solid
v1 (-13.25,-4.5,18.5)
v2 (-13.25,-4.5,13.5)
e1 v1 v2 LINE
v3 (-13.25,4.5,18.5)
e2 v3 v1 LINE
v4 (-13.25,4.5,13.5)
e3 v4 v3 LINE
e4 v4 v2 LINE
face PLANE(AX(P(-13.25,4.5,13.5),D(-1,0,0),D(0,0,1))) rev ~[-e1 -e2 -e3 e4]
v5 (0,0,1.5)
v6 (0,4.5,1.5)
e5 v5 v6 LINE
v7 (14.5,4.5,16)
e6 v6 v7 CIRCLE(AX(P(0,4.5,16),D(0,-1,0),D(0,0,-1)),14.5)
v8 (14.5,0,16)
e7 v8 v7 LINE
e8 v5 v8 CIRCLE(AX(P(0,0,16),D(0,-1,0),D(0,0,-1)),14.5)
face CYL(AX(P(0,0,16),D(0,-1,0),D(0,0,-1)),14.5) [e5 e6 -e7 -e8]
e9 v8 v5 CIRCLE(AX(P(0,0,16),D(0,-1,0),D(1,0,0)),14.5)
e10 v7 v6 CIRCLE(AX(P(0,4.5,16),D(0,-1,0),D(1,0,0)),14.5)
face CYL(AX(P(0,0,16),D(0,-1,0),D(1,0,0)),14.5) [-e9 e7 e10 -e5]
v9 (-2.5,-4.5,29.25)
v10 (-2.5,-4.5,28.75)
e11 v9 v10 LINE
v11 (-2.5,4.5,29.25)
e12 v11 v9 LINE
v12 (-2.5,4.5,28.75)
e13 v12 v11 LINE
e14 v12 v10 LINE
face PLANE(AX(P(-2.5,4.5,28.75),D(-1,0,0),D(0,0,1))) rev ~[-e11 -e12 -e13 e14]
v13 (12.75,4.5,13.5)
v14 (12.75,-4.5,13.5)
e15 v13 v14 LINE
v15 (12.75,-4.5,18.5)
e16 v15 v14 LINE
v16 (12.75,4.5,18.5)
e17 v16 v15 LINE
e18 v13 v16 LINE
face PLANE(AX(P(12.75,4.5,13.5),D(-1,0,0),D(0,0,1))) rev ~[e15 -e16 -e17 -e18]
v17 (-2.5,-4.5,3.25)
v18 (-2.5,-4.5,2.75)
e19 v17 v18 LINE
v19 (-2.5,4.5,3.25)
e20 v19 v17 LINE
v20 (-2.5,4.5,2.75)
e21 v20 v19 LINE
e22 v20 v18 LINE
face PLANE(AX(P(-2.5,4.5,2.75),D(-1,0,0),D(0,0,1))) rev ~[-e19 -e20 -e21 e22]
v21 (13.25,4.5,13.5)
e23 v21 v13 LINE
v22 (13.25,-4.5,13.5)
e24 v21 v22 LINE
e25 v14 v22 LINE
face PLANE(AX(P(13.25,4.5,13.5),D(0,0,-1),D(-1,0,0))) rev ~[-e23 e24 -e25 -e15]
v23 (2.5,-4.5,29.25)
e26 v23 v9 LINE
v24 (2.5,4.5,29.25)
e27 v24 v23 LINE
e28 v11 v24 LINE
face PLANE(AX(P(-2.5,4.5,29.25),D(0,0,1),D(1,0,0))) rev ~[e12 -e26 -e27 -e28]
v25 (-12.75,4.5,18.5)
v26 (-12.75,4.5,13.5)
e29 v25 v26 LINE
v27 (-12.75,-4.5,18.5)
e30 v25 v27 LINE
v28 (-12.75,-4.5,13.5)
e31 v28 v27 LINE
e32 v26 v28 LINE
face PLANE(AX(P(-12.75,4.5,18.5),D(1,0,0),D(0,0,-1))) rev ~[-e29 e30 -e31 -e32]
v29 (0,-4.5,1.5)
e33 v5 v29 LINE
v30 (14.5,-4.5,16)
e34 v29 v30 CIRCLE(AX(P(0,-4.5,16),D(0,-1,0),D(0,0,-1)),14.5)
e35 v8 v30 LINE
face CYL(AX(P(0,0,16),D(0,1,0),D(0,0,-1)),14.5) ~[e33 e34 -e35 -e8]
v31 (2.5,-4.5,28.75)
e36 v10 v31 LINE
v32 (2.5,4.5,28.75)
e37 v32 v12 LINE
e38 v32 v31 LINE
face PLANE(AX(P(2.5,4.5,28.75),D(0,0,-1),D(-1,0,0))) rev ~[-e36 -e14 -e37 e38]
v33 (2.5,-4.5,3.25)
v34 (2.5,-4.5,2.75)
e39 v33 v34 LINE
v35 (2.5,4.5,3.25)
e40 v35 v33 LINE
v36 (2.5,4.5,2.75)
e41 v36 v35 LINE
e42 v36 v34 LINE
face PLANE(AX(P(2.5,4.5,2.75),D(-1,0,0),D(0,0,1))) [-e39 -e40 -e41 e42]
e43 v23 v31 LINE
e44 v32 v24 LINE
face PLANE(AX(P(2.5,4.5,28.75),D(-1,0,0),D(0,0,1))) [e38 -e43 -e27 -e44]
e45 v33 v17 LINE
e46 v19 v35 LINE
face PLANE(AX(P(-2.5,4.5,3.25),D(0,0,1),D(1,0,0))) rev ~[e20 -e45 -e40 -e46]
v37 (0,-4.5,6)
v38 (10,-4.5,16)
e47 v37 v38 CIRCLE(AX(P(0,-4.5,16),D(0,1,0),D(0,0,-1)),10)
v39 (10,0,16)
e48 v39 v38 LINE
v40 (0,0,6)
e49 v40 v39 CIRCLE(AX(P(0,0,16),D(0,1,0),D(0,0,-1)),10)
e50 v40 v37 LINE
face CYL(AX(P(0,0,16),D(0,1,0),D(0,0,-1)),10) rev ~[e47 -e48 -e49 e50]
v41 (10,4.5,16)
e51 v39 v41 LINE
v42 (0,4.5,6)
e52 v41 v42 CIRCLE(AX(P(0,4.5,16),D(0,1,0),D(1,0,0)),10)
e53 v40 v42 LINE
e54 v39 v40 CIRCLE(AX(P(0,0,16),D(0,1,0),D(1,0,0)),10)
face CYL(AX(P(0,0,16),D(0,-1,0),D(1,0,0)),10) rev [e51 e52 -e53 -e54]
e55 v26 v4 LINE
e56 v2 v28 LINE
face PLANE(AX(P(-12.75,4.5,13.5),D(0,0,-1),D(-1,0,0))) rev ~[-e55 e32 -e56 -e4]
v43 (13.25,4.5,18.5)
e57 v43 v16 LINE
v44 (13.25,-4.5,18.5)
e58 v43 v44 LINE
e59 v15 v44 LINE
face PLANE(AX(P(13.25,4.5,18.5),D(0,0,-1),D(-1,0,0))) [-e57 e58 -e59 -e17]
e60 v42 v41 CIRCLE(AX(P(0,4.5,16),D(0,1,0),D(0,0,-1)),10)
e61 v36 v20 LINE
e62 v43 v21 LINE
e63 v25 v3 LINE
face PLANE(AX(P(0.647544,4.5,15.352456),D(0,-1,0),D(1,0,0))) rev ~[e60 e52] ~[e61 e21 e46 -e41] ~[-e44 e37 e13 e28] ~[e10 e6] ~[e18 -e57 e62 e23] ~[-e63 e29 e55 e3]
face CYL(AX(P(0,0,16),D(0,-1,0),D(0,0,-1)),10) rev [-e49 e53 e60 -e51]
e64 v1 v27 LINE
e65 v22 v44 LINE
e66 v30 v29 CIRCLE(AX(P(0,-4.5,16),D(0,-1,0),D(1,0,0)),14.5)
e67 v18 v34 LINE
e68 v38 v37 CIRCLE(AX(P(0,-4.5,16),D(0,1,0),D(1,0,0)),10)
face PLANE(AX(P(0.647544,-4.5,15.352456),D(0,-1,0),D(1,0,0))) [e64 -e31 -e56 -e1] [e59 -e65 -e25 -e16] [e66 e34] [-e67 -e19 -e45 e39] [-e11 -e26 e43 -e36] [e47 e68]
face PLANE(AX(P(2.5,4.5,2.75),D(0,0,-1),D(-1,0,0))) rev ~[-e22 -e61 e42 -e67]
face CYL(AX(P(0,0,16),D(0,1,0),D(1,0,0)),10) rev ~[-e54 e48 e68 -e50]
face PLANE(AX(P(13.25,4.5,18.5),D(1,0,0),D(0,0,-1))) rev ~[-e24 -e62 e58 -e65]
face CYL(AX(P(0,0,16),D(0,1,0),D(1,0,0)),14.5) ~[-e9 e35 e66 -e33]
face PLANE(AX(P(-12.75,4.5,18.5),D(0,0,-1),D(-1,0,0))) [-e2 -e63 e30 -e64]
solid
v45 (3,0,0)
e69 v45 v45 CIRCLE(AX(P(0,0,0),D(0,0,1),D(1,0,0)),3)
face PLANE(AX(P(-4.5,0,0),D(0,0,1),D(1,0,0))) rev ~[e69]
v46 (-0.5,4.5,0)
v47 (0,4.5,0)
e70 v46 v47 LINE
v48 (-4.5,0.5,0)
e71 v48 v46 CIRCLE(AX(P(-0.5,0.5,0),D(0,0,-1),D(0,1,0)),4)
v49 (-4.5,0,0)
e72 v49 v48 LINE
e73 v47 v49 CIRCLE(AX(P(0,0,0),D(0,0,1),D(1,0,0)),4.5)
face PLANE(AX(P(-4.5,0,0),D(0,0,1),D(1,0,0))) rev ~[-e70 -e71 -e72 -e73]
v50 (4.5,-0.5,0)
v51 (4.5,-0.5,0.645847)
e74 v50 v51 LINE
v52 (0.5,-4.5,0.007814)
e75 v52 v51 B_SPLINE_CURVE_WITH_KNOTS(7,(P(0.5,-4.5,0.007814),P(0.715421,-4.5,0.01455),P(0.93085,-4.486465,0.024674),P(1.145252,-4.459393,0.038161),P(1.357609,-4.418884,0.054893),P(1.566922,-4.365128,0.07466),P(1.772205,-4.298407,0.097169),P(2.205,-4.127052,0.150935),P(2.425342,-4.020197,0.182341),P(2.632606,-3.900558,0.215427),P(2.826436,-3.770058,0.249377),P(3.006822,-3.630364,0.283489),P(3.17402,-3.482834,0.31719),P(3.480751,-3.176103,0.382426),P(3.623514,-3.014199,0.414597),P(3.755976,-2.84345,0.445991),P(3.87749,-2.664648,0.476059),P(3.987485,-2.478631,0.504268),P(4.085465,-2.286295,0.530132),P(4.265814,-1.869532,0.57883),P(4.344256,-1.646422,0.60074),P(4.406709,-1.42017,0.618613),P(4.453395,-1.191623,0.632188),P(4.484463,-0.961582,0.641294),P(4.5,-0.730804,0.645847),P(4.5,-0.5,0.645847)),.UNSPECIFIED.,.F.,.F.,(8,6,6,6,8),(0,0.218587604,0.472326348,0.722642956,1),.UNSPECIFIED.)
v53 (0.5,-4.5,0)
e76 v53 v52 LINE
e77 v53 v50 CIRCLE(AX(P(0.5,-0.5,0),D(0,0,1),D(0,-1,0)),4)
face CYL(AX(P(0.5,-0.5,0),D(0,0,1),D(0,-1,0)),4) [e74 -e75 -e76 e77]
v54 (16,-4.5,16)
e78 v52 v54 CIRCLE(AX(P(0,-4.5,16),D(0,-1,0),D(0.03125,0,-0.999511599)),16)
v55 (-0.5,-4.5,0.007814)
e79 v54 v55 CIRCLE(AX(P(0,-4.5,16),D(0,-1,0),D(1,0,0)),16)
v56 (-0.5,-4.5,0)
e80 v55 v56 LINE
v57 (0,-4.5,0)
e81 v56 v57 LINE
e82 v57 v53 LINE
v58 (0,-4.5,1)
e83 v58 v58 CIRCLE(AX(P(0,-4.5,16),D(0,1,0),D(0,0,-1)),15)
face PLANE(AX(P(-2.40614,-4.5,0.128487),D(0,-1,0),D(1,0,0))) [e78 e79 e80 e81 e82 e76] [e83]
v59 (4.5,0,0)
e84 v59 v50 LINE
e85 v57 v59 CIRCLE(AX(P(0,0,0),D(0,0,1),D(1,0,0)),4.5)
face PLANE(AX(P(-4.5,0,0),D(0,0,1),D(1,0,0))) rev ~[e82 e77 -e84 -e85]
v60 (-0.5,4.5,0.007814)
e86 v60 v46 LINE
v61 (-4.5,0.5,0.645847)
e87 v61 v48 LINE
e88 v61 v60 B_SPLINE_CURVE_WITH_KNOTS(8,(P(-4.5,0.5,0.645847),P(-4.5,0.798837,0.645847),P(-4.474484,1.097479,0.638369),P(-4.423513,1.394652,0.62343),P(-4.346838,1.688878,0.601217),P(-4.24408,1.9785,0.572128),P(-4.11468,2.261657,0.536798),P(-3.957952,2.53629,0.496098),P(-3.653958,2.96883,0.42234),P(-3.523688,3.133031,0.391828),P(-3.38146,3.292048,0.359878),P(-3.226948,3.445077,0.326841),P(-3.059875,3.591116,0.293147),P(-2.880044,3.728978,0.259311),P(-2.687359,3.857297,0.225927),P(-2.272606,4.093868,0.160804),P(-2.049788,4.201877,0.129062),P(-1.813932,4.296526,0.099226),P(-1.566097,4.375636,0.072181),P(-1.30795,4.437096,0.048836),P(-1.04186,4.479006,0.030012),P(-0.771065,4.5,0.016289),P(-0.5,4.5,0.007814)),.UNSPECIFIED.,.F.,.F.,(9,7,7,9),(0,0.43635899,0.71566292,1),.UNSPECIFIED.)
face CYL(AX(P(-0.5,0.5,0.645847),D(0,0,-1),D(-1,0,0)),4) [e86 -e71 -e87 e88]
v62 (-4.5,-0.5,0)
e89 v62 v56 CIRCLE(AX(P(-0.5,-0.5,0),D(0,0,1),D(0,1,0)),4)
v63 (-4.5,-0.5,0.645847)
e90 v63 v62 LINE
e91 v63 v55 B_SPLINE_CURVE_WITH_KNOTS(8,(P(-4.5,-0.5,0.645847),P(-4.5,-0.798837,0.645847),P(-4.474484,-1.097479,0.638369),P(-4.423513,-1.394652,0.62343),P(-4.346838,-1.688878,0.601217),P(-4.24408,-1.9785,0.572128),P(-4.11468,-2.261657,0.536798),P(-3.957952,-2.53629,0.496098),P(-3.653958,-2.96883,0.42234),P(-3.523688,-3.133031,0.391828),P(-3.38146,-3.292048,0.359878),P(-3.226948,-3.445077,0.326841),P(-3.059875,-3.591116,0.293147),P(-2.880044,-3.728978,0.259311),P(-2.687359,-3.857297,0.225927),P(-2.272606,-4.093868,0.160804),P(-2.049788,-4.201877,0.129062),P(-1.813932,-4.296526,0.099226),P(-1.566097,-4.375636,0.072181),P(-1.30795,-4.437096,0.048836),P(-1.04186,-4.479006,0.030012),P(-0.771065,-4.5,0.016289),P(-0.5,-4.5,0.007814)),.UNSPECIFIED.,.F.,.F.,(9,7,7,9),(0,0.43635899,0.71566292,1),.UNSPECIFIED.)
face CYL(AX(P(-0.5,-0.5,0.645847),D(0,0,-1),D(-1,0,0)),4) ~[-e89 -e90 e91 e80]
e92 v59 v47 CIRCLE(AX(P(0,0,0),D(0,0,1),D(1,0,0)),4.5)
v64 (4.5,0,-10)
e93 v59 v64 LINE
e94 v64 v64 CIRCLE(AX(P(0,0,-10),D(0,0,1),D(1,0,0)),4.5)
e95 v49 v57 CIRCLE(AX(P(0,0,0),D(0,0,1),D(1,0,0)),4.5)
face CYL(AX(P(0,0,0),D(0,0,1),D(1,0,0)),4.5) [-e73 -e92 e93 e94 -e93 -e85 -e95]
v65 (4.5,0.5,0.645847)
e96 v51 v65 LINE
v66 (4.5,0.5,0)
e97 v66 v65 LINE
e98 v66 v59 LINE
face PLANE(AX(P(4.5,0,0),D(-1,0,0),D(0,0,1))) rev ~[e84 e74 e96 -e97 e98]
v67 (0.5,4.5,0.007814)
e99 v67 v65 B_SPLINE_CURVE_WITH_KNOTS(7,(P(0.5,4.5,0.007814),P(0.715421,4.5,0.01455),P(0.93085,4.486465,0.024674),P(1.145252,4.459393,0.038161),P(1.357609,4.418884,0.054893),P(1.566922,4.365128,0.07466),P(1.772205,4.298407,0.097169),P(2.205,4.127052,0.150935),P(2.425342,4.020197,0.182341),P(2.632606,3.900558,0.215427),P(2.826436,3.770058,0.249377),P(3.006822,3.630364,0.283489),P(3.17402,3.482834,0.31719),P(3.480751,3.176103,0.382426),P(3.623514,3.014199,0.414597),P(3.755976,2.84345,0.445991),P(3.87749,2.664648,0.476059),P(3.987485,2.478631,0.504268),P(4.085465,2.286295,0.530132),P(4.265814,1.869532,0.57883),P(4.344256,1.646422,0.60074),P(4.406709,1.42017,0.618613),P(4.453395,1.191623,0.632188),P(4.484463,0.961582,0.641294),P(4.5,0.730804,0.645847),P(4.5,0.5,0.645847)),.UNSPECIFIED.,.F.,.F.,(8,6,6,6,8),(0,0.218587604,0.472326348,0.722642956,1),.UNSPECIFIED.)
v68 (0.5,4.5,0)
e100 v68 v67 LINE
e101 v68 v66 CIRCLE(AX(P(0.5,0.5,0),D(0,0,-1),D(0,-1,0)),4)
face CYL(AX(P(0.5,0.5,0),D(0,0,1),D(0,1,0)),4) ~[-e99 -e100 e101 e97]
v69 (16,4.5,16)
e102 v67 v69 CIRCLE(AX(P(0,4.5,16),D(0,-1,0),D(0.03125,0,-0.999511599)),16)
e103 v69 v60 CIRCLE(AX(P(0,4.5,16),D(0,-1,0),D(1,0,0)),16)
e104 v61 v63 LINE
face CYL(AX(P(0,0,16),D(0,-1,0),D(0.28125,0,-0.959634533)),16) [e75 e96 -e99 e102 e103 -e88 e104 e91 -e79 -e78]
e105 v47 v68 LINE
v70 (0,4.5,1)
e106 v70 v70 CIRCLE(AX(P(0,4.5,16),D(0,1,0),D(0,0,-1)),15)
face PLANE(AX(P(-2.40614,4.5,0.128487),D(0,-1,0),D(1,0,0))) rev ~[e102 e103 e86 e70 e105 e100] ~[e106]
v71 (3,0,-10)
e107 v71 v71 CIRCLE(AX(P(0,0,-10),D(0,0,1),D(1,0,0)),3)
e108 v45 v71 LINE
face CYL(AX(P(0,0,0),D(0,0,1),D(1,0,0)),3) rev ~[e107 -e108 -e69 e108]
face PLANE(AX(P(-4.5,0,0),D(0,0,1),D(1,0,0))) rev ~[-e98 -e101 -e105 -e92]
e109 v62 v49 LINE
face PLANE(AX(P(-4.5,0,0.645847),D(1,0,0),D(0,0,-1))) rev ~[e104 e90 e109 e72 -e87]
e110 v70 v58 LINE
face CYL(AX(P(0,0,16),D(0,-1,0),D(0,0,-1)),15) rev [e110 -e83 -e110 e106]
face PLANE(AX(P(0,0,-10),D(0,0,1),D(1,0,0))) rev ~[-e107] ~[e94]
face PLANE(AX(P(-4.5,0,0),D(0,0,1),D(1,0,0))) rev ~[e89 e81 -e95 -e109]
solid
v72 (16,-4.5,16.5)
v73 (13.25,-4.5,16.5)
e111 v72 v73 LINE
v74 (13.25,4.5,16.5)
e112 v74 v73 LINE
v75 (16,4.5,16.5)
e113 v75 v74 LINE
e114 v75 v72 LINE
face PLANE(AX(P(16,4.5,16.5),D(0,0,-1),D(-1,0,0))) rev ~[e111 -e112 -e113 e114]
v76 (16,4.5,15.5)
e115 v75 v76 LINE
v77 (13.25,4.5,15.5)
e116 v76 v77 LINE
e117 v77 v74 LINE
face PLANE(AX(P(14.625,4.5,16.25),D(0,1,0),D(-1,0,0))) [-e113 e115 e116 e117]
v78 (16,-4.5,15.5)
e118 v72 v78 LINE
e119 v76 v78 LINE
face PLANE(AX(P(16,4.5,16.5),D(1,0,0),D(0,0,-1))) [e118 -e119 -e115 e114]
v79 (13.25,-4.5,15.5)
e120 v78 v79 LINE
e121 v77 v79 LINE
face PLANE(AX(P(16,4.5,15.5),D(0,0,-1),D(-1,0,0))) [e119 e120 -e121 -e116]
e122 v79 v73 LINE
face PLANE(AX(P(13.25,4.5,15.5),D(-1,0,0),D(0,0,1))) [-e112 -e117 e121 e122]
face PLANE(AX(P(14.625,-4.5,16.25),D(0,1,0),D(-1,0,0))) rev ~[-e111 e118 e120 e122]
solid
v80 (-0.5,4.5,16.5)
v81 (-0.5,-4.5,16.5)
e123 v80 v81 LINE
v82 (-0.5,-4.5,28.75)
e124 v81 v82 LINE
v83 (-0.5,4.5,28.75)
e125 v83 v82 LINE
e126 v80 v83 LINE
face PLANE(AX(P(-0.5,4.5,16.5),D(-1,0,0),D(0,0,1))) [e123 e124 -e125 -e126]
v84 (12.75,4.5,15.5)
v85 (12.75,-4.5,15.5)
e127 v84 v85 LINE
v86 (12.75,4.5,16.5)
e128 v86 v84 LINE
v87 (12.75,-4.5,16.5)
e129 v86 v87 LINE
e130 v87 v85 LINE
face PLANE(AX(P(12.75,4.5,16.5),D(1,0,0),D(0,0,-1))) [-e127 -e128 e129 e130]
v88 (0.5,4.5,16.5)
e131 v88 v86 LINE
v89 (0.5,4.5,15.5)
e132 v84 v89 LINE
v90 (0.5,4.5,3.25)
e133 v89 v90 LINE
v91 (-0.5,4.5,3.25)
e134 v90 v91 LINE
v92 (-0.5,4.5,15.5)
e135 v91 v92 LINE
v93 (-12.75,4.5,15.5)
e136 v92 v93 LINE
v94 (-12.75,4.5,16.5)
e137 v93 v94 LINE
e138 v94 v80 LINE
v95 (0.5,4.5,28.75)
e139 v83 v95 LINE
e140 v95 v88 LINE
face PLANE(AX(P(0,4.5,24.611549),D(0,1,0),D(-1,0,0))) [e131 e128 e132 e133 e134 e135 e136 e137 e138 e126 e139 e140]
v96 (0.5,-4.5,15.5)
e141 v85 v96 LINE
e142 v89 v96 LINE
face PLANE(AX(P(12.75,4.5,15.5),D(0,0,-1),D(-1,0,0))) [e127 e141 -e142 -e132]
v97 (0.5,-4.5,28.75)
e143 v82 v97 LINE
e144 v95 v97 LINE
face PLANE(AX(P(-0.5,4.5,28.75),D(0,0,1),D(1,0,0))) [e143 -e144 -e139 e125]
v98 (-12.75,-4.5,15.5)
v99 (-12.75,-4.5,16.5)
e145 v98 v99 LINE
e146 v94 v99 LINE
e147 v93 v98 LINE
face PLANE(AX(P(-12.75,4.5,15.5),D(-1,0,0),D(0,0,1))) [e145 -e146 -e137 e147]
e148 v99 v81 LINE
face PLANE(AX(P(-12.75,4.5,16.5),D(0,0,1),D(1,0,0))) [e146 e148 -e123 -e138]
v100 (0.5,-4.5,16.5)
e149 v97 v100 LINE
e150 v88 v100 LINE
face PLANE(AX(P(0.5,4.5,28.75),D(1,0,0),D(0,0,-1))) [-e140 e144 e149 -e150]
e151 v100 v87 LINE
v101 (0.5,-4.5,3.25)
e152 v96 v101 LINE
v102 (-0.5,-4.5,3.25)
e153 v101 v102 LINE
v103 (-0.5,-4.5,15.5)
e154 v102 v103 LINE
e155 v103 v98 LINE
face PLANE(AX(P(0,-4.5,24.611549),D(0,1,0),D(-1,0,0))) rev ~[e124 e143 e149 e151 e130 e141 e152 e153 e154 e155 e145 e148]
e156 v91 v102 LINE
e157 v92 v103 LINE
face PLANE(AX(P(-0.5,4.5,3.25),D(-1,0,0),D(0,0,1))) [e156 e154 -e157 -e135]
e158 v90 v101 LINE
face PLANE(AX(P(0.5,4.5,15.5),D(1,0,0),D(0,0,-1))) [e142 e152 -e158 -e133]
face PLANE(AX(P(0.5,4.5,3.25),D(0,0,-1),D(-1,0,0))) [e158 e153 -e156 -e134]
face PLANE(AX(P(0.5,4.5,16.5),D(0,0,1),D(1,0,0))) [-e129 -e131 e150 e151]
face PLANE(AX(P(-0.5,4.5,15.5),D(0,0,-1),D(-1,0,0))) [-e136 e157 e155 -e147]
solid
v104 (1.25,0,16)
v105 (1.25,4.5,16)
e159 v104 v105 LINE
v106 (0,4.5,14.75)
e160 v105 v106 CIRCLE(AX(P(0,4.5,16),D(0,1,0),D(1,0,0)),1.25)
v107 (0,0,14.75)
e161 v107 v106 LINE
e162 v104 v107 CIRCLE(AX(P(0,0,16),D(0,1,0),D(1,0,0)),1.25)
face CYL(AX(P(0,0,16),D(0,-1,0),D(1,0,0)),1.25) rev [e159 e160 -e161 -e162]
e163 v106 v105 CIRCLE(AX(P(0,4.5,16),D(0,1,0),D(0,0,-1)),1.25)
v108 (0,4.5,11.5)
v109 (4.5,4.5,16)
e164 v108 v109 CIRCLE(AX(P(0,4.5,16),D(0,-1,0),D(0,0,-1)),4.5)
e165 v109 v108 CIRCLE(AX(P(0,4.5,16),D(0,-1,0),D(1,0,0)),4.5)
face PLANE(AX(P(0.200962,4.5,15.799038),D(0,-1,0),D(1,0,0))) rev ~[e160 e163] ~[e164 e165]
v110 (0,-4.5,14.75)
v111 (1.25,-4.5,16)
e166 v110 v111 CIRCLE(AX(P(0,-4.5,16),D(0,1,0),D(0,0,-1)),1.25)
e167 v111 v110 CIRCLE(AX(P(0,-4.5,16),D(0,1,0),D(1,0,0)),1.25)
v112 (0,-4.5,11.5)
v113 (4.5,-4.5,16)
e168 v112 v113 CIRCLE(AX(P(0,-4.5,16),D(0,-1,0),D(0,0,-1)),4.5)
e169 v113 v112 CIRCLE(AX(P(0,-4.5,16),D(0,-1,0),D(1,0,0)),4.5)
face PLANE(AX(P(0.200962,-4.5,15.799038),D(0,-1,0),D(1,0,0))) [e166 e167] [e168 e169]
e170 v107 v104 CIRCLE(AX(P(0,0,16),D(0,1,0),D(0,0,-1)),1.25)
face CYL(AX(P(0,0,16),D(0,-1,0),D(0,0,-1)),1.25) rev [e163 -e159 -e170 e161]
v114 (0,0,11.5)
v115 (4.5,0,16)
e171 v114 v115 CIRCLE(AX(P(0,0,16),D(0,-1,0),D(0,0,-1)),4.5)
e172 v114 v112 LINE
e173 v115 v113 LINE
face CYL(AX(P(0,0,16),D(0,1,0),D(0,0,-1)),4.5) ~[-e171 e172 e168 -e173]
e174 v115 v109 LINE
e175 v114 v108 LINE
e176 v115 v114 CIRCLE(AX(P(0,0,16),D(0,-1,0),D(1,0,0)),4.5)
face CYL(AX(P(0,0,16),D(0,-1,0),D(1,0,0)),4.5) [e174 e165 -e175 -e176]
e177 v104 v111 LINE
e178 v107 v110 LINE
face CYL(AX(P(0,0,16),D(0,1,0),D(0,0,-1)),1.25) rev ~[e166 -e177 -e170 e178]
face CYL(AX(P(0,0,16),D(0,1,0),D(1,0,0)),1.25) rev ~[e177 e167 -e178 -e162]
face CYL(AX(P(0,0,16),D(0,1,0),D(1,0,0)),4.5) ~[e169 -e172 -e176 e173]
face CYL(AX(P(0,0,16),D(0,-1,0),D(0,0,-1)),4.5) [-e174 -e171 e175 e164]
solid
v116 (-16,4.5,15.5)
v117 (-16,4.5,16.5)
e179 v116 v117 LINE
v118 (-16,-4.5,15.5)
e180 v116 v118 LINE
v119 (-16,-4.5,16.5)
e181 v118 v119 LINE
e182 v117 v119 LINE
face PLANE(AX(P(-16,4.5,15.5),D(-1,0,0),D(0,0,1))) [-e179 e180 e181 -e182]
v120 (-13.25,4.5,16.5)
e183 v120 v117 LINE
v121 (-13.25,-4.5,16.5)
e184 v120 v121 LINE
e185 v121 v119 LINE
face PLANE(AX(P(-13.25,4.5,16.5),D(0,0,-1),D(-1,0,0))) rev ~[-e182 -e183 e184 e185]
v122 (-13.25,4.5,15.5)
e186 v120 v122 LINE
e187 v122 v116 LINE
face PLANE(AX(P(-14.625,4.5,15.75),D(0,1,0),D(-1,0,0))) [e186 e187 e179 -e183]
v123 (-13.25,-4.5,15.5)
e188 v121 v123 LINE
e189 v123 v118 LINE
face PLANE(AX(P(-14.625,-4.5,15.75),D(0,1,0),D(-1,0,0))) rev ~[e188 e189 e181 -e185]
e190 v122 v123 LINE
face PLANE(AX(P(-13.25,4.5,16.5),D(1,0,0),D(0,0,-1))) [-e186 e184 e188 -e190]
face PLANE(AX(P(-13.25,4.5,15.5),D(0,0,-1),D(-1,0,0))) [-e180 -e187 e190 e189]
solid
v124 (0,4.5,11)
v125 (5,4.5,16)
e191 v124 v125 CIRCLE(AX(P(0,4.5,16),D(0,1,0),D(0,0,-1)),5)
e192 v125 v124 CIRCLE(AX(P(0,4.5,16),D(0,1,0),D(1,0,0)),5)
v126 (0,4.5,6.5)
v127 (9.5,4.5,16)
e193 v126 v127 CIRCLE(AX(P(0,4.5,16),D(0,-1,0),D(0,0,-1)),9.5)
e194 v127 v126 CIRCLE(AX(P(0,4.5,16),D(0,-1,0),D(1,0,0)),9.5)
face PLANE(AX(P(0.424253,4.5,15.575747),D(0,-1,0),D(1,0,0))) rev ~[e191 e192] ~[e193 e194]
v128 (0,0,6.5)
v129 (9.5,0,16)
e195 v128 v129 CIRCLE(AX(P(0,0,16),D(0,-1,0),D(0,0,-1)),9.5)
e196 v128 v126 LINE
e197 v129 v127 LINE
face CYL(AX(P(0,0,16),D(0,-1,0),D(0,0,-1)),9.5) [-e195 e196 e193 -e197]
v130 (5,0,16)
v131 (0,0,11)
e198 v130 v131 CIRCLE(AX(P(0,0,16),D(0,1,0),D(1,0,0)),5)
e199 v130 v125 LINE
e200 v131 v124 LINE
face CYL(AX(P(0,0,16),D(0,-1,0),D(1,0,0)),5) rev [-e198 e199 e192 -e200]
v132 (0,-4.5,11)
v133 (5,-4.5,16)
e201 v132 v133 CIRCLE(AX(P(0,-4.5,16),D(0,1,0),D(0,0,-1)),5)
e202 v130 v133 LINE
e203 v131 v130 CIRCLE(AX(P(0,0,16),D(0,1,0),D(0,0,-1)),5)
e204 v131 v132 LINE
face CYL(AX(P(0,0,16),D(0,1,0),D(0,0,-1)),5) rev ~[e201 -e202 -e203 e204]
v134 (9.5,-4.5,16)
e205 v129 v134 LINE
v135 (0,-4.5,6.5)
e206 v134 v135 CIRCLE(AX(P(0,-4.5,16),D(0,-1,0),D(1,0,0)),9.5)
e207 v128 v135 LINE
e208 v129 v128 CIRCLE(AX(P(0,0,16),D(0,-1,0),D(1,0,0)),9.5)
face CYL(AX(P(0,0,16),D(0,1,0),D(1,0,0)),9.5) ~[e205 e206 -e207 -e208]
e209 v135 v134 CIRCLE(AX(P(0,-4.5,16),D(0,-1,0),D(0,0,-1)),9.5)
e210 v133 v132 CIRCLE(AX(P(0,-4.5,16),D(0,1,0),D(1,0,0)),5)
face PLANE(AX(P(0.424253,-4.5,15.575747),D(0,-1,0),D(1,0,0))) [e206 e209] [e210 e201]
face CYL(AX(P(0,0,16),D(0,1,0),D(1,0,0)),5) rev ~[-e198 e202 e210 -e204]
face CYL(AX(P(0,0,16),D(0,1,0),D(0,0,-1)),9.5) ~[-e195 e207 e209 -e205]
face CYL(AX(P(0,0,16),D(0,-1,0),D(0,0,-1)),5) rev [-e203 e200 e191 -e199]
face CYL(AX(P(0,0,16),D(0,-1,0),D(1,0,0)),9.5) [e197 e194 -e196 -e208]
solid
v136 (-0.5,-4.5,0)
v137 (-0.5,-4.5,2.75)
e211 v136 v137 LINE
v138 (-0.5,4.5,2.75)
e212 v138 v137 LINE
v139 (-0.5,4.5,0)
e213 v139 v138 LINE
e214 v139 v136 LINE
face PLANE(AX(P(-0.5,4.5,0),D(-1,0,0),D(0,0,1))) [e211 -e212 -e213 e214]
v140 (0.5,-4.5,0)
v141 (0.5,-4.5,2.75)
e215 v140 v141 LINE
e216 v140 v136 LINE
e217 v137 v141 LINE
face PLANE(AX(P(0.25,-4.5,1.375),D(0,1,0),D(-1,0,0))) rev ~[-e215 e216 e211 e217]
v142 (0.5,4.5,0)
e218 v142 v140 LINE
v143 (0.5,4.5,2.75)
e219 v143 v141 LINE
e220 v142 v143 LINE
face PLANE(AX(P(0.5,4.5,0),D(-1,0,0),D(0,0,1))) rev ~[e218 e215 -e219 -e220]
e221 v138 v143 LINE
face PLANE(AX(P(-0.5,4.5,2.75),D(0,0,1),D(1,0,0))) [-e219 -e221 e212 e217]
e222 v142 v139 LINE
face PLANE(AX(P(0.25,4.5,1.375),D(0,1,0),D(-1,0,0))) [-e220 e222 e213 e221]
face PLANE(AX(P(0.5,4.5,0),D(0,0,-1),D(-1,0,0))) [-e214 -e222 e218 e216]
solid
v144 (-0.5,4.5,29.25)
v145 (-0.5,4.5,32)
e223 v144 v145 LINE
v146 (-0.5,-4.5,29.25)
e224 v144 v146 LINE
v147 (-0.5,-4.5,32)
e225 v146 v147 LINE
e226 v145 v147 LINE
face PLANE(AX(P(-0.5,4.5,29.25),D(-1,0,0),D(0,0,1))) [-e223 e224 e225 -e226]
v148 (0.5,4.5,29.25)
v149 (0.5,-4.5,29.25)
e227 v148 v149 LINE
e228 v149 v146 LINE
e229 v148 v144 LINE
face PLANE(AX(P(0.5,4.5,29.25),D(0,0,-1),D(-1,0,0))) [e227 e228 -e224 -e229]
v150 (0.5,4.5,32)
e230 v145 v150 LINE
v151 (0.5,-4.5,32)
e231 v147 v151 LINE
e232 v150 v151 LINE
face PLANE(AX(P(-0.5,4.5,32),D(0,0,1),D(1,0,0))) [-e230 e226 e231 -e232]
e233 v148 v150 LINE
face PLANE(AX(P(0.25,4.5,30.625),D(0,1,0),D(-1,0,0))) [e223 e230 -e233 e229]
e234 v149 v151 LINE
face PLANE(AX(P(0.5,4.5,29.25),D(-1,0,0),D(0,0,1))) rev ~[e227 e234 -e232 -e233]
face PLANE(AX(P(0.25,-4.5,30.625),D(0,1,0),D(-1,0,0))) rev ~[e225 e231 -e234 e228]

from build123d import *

# Parameters (mm, degrees)
F0_R     = 4.5
F0_R_2   = 3
F1_DEPTH = 10
F3_DEPTH = 4.5
F4_R     = 4
F5_W     = 0.5
F5_H     = 2.75
F5_W_2   = 1
F5_H_2   = 1
F5_W_3   = 2.75
F5_H_3   = 0.5
F6_DEPTH = 9
F5_H_4   = 2
F5_W_4   = 2
F7_DEPTH = 25


with BuildPart() as f1:
    # F0 (on Top) → F1 (new body)
    with BuildSketch(Plane.XY):
        Circle(F0_R)
        Circle(F0_R_2, mode=Mode.SUBTRACT)
    extrude(amount=-F1_DEPTH)

    # F2 (on Front) → F3 (join, symmetric)
    with BuildSketch(Plane.XZ):
        with BuildLine():
            Line((-4.5, 0), (0, 0))
            ThreePointArc((0, 0), (-2.273055155, 0.1622848787), (-4.5, 0.6458474672))
            Line((-4.5, 0.6458474672), (-4.5, 0))
        make_face()
        with BuildLine():
            ThreePointArc((4.5, 0.6458474672), (2.273055155, 0.1622848787), (0, 0))
            Line((0, 0), (4.5, 0))
            Line((4.5, 0), (4.5, 0.6458474672))
        make_face()
        with BuildLine():
            ThreePointArc((-4.5, 0.6458474672), (-2.273055155, 0.1622848787), (0, 0))
            ThreePointArc((0, 0), (2.273055155, 0.1622848787), (4.5, 0.6458474672))
            ThreePointArc((4.5, 0.6458474672), (12.8062484749, 6.4083369534), (16, 16))
            ThreePointArc((16, 16), (-9.5916630466, 28.8062484749), (-4.5, 0.6458474672))
        make_face()
        with BuildLine():
            ThreePointArc((15, 16), (10.6066017178, 5.3933982822), (0, 1))
            ThreePointArc((0, 1), (-10.6066017178, 26.6066017178), (15, 16))
        make_face(mode=Mode.SUBTRACT)
        with BuildLine():
            ThreePointArc((14.5, 16), (-10.2530483272, 26.2530483272), (0, 1.5))
            ThreePointArc((0, 1.5), (10.2530483272, 5.7469516728), (14.5, 16))
        make_face()
        with BuildLine():
            ThreePointArc((10, 16), (7.0710678119, 8.9289321881), (0, 6))
            ThreePointArc((0, 6), (-7.0710678119, 23.0710678119), (10, 16))
        make_face(mode=Mode.SUBTRACT)
        with BuildLine():
            ThreePointArc((9.5, 16), (-6.7175144213, 22.7175144213), (0, 6.5))
            ThreePointArc((0, 6.5), (6.7175144213, 9.2824855787), (9.5, 16))
        make_face()
        with BuildLine():
            ThreePointArc((5, 16), (3.5355339059, 12.4644660941), (0, 11))
            ThreePointArc((0, 11), (-3.5355339059, 19.5355339059), (5, 16))
        make_face(mode=Mode.SUBTRACT)
        with BuildLine():
            ThreePointArc((4.5, 16), (-3.1819805153, 19.1819805153), (0, 11.5))
            ThreePointArc((0, 11.5), (3.1819805153, 12.8180194847), (4.5, 16))
        make_face()
        with BuildLine():
            ThreePointArc((1.25, 16), (0.8838834765, 15.1161165235), (0, 14.75))
            ThreePointArc((0, 14.75), (-0.8838834765, 16.8838834765), (1.25, 16))
        make_face(mode=Mode.SUBTRACT)
    extrude(amount=F3_DEPTH, both=True)

    # F4
    f4_edges = [f1.edges().sort_by_distance(p)[0] for p in [
        (-4.5, -4.5, 0.322924),
        (4.5, -4.5, 0.322924),
        (4.5, 4.5, 0.322924),
        (-4.5, 4.5, 0.322924),
    ]]
    fillet(f4_edges, radius=F4_R)

    # F5 (on face) → F7 (cut)
    with BuildSketch(Plane(origin=(0, 4.5, 0), x_dir=(-1, 0, 0), z_dir=(0, 1, 0))):
        with Locations((-13, 17.5)):
            Rectangle(F5_W, F5_H_4)
        Polygon((-13.25, 15.5), (-12.75, 15.5), (-12.75, 16.5), (-13.25, 16.5), (-13.25, 16), align=None)
        with Locations((-13, 14.5)):
            Rectangle(F5_W, F5_H_4)
        with Locations((-1.5, 3)):
            Rectangle(F5_W_4, F5_H_3)
        Polygon((0, 2.75), (0.5, 2.75), (0.5, 3.25), (-0.5, 3.25), (-0.5, 2.75), align=None)
        with Locations((1.5, 3)):
            Rectangle(F5_W_4, F5_H_3)
        with Locations((13, 14.5)):
            Rectangle(F5_W, F5_H_4)
        Polygon((12.75, 16.5), (12.75, 15.5), (13.25, 15.5), (13.25, 16), (13.25, 16.5), align=None)
        with Locations((13, 17.5)):
            Rectangle(F5_W, F5_H_4)
        with Locations((-1.5, 29)):
            Rectangle(F5_W_4, F5_H_3)
        Polygon((-0.5, 29.25), (-0.5, 28.75), (0.5, 28.75), (0.5, 29.25), (0, 29.25), align=None)
        with Locations((1.5, 29)):
            Rectangle(F5_W_4, F5_H_3)
    extrude(amount=-F7_DEPTH, mode=Mode.SUBTRACT)


with BuildPart() as f6:
    # F5 (on face) → F6 (new body)
    with BuildSketch(Plane(origin=(0, 4.5, 0), x_dir=(-1, 0, 0), z_dir=(0, 1, 0))):
        with BuildLine():
            Line((-0.5, 28.75), (-0.5, 20.472135955))
            ThreePointArc((-0.5, 20.472135955), (0, 20.5), (0.5, 20.472135955))
            Line((0.5, 20.472135955), (0.5, 28.75))
            Line((0.5, 28.75), (-0.5, 28.75))
        make_face()
        with Locations((-0.25, 30.625)):
            Rectangle(F5_W, F5_H)
        with Locations((0.25, 30.625)):
            Rectangle(F5_W, F5_H)
        with BuildLine():
            ThreePointArc((-0.5, 17.1456439237), (0, 17.25), (0.5, 17.1456439237))
            Line((0.5, 17.1456439237), (0.5, 20.472135955))
            ThreePointArc((0.5, 20.472135955), (0, 20.5), (-0.5, 20.472135955))
            Line((-0.5, 20.472135955), (-0.5, 17.1456439237))
        make_face()
        with Locations((0, 16)):
            Rectangle(F5_W_2, F5_H_2)
        with BuildLine():
            Line((-0.5, 16.5), (0.5, 16.5))
            Line((0.5, 16.5), (0.5, 17.1456439237))
            ThreePointArc((0.5, 17.1456439237), (0, 17.25), (-0.5, 17.1456439237))
            Line((-0.5, 17.1456439237), (-0.5, 16.5))
        make_face()
        with BuildLine():
            ThreePointArc((-0.5, 11.527864045), (0, 11.5), (0.5, 11.527864045))
            Line((0.5, 11.527864045), (0.5, 14.8543560763))
            ThreePointArc((0.5, 14.8543560763), (0, 14.75), (-0.5, 14.8543560763))
            Line((-0.5, 14.8543560763), (-0.5, 11.527864045))
        make_face()
        with BuildLine():
            ThreePointArc((-0.5, 14.8543560763), (0, 14.75), (0.5, 14.8543560763))
            Line((0.5, 14.8543560763), (0.5, 15.5))
            Line((0.5, 15.5), (-0.5, 15.5))
            Line((-0.5, 15.5), (-0.5, 14.8543560763))
        make_face()
        with BuildLine():
            Line((-0.5, 3.25), (0.5, 3.25))
            Line((0.5, 3.25), (0.5, 11.527864045))
            ThreePointArc((0.5, 11.527864045), (0, 11.5), (-0.5, 11.527864045))
            Line((-0.5, 11.527864045), (-0.5, 3.25))
        make_face()
        with Locations((-0.25, 1.375)):
            Rectangle(F5_W, F5_H)
        with Locations((0.25, 1.375)):
            Rectangle(F5_W, F5_H)
        with Locations((-14.625, 16.25)):
            Rectangle(F5_W_3, F5_H_3)
        with Locations((-14.625, 15.75)):
            Rectangle(F5_W_3, F5_H_3)
        with BuildLine():
            Line((-12.75, 15.5), (-4.472135955, 15.5))
            ThreePointArc((-4.472135955, 15.5), (-4.5, 16), (-4.472135955, 16.5))
            Line((-4.472135955, 16.5), (-12.75, 16.5))
            Line((-12.75, 16.5), (-12.75, 15.5))
        make_face()
        with BuildLine():
            ThreePointArc((-4.472135955, 16.5), (-4.5, 16), (-4.472135955, 15.5))
            Line((-4.472135955, 15.5), (-1.1456439237, 15.5))
            ThreePointArc((-1.1456439237, 15.5), (-1.25, 16), (-1.1456439237, 16.5))
            Line((-1.1456439237, 16.5), (-4.472135955, 16.5))
        make_face()
        with BuildLine():
            Line((-1.1456439237, 15.5), (-0.5, 15.5))
            Line((-0.5, 15.5), (-0.5, 16.5))
            Line((-0.5, 16.5), (-1.1456439237, 16.5))
            ThreePointArc((-1.1456439237, 16.5), (-1.25, 16), (-1.1456439237, 15.5))
        make_face()
        with BuildLine():
            Line((1.1456439237, 15.5), (4.472135955, 15.5))
            ThreePointArc((4.472135955, 15.5), (4.4930285887, 15.7496120984), (4.5, 16))
            ThreePointArc((4.5, 16), (4.4930285887, 16.2503879016), (4.472135955, 16.5))
            Line((4.472135955, 16.5), (1.1456439237, 16.5))
            ThreePointArc((1.1456439237, 16.5), (1.2236328912, 16.2553870546), (1.25, 16))
            ThreePointArc((1.25, 16), (1.2236328912, 15.7446129454), (1.1456439237, 15.5))
        make_face()
        with BuildLine():
            Line((0.5, 16.5), (0.5, 15.5))
            Line((0.5, 15.5), (1.1456439237, 15.5))
            ThreePointArc((1.1456439237, 15.5), (1.2236328912, 15.7446129454), (1.25, 16))
            ThreePointArc((1.25, 16), (1.2236328912, 16.2553870546), (1.1456439237, 16.5))
            Line((1.1456439237, 16.5), (0.5, 16.5))
        make_face()
        with BuildLine():
            ThreePointArc((4.5, 16), (4.4930285887, 15.7496120984), (4.472135955, 15.5))
            Line((4.472135955, 15.5), (12.75, 15.5))
            Line((12.75, 15.5), (12.75, 16.5))
            Line((12.75, 16.5), (4.472135955, 16.5))
            ThreePointArc((4.472135955, 16.5), (4.4930285887, 16.2503879016), (4.5, 16))
        make_face()
        with Locations((14.625, 15.75)):
            Rectangle(F5_W_3, F5_H_3)
        with Locations((14.625, 16.25)):
            Rectangle(F5_W_3, F5_H_3)
    extrude(amount=-F6_DEPTH)


solid = Compound([f1.part, f6.part])
